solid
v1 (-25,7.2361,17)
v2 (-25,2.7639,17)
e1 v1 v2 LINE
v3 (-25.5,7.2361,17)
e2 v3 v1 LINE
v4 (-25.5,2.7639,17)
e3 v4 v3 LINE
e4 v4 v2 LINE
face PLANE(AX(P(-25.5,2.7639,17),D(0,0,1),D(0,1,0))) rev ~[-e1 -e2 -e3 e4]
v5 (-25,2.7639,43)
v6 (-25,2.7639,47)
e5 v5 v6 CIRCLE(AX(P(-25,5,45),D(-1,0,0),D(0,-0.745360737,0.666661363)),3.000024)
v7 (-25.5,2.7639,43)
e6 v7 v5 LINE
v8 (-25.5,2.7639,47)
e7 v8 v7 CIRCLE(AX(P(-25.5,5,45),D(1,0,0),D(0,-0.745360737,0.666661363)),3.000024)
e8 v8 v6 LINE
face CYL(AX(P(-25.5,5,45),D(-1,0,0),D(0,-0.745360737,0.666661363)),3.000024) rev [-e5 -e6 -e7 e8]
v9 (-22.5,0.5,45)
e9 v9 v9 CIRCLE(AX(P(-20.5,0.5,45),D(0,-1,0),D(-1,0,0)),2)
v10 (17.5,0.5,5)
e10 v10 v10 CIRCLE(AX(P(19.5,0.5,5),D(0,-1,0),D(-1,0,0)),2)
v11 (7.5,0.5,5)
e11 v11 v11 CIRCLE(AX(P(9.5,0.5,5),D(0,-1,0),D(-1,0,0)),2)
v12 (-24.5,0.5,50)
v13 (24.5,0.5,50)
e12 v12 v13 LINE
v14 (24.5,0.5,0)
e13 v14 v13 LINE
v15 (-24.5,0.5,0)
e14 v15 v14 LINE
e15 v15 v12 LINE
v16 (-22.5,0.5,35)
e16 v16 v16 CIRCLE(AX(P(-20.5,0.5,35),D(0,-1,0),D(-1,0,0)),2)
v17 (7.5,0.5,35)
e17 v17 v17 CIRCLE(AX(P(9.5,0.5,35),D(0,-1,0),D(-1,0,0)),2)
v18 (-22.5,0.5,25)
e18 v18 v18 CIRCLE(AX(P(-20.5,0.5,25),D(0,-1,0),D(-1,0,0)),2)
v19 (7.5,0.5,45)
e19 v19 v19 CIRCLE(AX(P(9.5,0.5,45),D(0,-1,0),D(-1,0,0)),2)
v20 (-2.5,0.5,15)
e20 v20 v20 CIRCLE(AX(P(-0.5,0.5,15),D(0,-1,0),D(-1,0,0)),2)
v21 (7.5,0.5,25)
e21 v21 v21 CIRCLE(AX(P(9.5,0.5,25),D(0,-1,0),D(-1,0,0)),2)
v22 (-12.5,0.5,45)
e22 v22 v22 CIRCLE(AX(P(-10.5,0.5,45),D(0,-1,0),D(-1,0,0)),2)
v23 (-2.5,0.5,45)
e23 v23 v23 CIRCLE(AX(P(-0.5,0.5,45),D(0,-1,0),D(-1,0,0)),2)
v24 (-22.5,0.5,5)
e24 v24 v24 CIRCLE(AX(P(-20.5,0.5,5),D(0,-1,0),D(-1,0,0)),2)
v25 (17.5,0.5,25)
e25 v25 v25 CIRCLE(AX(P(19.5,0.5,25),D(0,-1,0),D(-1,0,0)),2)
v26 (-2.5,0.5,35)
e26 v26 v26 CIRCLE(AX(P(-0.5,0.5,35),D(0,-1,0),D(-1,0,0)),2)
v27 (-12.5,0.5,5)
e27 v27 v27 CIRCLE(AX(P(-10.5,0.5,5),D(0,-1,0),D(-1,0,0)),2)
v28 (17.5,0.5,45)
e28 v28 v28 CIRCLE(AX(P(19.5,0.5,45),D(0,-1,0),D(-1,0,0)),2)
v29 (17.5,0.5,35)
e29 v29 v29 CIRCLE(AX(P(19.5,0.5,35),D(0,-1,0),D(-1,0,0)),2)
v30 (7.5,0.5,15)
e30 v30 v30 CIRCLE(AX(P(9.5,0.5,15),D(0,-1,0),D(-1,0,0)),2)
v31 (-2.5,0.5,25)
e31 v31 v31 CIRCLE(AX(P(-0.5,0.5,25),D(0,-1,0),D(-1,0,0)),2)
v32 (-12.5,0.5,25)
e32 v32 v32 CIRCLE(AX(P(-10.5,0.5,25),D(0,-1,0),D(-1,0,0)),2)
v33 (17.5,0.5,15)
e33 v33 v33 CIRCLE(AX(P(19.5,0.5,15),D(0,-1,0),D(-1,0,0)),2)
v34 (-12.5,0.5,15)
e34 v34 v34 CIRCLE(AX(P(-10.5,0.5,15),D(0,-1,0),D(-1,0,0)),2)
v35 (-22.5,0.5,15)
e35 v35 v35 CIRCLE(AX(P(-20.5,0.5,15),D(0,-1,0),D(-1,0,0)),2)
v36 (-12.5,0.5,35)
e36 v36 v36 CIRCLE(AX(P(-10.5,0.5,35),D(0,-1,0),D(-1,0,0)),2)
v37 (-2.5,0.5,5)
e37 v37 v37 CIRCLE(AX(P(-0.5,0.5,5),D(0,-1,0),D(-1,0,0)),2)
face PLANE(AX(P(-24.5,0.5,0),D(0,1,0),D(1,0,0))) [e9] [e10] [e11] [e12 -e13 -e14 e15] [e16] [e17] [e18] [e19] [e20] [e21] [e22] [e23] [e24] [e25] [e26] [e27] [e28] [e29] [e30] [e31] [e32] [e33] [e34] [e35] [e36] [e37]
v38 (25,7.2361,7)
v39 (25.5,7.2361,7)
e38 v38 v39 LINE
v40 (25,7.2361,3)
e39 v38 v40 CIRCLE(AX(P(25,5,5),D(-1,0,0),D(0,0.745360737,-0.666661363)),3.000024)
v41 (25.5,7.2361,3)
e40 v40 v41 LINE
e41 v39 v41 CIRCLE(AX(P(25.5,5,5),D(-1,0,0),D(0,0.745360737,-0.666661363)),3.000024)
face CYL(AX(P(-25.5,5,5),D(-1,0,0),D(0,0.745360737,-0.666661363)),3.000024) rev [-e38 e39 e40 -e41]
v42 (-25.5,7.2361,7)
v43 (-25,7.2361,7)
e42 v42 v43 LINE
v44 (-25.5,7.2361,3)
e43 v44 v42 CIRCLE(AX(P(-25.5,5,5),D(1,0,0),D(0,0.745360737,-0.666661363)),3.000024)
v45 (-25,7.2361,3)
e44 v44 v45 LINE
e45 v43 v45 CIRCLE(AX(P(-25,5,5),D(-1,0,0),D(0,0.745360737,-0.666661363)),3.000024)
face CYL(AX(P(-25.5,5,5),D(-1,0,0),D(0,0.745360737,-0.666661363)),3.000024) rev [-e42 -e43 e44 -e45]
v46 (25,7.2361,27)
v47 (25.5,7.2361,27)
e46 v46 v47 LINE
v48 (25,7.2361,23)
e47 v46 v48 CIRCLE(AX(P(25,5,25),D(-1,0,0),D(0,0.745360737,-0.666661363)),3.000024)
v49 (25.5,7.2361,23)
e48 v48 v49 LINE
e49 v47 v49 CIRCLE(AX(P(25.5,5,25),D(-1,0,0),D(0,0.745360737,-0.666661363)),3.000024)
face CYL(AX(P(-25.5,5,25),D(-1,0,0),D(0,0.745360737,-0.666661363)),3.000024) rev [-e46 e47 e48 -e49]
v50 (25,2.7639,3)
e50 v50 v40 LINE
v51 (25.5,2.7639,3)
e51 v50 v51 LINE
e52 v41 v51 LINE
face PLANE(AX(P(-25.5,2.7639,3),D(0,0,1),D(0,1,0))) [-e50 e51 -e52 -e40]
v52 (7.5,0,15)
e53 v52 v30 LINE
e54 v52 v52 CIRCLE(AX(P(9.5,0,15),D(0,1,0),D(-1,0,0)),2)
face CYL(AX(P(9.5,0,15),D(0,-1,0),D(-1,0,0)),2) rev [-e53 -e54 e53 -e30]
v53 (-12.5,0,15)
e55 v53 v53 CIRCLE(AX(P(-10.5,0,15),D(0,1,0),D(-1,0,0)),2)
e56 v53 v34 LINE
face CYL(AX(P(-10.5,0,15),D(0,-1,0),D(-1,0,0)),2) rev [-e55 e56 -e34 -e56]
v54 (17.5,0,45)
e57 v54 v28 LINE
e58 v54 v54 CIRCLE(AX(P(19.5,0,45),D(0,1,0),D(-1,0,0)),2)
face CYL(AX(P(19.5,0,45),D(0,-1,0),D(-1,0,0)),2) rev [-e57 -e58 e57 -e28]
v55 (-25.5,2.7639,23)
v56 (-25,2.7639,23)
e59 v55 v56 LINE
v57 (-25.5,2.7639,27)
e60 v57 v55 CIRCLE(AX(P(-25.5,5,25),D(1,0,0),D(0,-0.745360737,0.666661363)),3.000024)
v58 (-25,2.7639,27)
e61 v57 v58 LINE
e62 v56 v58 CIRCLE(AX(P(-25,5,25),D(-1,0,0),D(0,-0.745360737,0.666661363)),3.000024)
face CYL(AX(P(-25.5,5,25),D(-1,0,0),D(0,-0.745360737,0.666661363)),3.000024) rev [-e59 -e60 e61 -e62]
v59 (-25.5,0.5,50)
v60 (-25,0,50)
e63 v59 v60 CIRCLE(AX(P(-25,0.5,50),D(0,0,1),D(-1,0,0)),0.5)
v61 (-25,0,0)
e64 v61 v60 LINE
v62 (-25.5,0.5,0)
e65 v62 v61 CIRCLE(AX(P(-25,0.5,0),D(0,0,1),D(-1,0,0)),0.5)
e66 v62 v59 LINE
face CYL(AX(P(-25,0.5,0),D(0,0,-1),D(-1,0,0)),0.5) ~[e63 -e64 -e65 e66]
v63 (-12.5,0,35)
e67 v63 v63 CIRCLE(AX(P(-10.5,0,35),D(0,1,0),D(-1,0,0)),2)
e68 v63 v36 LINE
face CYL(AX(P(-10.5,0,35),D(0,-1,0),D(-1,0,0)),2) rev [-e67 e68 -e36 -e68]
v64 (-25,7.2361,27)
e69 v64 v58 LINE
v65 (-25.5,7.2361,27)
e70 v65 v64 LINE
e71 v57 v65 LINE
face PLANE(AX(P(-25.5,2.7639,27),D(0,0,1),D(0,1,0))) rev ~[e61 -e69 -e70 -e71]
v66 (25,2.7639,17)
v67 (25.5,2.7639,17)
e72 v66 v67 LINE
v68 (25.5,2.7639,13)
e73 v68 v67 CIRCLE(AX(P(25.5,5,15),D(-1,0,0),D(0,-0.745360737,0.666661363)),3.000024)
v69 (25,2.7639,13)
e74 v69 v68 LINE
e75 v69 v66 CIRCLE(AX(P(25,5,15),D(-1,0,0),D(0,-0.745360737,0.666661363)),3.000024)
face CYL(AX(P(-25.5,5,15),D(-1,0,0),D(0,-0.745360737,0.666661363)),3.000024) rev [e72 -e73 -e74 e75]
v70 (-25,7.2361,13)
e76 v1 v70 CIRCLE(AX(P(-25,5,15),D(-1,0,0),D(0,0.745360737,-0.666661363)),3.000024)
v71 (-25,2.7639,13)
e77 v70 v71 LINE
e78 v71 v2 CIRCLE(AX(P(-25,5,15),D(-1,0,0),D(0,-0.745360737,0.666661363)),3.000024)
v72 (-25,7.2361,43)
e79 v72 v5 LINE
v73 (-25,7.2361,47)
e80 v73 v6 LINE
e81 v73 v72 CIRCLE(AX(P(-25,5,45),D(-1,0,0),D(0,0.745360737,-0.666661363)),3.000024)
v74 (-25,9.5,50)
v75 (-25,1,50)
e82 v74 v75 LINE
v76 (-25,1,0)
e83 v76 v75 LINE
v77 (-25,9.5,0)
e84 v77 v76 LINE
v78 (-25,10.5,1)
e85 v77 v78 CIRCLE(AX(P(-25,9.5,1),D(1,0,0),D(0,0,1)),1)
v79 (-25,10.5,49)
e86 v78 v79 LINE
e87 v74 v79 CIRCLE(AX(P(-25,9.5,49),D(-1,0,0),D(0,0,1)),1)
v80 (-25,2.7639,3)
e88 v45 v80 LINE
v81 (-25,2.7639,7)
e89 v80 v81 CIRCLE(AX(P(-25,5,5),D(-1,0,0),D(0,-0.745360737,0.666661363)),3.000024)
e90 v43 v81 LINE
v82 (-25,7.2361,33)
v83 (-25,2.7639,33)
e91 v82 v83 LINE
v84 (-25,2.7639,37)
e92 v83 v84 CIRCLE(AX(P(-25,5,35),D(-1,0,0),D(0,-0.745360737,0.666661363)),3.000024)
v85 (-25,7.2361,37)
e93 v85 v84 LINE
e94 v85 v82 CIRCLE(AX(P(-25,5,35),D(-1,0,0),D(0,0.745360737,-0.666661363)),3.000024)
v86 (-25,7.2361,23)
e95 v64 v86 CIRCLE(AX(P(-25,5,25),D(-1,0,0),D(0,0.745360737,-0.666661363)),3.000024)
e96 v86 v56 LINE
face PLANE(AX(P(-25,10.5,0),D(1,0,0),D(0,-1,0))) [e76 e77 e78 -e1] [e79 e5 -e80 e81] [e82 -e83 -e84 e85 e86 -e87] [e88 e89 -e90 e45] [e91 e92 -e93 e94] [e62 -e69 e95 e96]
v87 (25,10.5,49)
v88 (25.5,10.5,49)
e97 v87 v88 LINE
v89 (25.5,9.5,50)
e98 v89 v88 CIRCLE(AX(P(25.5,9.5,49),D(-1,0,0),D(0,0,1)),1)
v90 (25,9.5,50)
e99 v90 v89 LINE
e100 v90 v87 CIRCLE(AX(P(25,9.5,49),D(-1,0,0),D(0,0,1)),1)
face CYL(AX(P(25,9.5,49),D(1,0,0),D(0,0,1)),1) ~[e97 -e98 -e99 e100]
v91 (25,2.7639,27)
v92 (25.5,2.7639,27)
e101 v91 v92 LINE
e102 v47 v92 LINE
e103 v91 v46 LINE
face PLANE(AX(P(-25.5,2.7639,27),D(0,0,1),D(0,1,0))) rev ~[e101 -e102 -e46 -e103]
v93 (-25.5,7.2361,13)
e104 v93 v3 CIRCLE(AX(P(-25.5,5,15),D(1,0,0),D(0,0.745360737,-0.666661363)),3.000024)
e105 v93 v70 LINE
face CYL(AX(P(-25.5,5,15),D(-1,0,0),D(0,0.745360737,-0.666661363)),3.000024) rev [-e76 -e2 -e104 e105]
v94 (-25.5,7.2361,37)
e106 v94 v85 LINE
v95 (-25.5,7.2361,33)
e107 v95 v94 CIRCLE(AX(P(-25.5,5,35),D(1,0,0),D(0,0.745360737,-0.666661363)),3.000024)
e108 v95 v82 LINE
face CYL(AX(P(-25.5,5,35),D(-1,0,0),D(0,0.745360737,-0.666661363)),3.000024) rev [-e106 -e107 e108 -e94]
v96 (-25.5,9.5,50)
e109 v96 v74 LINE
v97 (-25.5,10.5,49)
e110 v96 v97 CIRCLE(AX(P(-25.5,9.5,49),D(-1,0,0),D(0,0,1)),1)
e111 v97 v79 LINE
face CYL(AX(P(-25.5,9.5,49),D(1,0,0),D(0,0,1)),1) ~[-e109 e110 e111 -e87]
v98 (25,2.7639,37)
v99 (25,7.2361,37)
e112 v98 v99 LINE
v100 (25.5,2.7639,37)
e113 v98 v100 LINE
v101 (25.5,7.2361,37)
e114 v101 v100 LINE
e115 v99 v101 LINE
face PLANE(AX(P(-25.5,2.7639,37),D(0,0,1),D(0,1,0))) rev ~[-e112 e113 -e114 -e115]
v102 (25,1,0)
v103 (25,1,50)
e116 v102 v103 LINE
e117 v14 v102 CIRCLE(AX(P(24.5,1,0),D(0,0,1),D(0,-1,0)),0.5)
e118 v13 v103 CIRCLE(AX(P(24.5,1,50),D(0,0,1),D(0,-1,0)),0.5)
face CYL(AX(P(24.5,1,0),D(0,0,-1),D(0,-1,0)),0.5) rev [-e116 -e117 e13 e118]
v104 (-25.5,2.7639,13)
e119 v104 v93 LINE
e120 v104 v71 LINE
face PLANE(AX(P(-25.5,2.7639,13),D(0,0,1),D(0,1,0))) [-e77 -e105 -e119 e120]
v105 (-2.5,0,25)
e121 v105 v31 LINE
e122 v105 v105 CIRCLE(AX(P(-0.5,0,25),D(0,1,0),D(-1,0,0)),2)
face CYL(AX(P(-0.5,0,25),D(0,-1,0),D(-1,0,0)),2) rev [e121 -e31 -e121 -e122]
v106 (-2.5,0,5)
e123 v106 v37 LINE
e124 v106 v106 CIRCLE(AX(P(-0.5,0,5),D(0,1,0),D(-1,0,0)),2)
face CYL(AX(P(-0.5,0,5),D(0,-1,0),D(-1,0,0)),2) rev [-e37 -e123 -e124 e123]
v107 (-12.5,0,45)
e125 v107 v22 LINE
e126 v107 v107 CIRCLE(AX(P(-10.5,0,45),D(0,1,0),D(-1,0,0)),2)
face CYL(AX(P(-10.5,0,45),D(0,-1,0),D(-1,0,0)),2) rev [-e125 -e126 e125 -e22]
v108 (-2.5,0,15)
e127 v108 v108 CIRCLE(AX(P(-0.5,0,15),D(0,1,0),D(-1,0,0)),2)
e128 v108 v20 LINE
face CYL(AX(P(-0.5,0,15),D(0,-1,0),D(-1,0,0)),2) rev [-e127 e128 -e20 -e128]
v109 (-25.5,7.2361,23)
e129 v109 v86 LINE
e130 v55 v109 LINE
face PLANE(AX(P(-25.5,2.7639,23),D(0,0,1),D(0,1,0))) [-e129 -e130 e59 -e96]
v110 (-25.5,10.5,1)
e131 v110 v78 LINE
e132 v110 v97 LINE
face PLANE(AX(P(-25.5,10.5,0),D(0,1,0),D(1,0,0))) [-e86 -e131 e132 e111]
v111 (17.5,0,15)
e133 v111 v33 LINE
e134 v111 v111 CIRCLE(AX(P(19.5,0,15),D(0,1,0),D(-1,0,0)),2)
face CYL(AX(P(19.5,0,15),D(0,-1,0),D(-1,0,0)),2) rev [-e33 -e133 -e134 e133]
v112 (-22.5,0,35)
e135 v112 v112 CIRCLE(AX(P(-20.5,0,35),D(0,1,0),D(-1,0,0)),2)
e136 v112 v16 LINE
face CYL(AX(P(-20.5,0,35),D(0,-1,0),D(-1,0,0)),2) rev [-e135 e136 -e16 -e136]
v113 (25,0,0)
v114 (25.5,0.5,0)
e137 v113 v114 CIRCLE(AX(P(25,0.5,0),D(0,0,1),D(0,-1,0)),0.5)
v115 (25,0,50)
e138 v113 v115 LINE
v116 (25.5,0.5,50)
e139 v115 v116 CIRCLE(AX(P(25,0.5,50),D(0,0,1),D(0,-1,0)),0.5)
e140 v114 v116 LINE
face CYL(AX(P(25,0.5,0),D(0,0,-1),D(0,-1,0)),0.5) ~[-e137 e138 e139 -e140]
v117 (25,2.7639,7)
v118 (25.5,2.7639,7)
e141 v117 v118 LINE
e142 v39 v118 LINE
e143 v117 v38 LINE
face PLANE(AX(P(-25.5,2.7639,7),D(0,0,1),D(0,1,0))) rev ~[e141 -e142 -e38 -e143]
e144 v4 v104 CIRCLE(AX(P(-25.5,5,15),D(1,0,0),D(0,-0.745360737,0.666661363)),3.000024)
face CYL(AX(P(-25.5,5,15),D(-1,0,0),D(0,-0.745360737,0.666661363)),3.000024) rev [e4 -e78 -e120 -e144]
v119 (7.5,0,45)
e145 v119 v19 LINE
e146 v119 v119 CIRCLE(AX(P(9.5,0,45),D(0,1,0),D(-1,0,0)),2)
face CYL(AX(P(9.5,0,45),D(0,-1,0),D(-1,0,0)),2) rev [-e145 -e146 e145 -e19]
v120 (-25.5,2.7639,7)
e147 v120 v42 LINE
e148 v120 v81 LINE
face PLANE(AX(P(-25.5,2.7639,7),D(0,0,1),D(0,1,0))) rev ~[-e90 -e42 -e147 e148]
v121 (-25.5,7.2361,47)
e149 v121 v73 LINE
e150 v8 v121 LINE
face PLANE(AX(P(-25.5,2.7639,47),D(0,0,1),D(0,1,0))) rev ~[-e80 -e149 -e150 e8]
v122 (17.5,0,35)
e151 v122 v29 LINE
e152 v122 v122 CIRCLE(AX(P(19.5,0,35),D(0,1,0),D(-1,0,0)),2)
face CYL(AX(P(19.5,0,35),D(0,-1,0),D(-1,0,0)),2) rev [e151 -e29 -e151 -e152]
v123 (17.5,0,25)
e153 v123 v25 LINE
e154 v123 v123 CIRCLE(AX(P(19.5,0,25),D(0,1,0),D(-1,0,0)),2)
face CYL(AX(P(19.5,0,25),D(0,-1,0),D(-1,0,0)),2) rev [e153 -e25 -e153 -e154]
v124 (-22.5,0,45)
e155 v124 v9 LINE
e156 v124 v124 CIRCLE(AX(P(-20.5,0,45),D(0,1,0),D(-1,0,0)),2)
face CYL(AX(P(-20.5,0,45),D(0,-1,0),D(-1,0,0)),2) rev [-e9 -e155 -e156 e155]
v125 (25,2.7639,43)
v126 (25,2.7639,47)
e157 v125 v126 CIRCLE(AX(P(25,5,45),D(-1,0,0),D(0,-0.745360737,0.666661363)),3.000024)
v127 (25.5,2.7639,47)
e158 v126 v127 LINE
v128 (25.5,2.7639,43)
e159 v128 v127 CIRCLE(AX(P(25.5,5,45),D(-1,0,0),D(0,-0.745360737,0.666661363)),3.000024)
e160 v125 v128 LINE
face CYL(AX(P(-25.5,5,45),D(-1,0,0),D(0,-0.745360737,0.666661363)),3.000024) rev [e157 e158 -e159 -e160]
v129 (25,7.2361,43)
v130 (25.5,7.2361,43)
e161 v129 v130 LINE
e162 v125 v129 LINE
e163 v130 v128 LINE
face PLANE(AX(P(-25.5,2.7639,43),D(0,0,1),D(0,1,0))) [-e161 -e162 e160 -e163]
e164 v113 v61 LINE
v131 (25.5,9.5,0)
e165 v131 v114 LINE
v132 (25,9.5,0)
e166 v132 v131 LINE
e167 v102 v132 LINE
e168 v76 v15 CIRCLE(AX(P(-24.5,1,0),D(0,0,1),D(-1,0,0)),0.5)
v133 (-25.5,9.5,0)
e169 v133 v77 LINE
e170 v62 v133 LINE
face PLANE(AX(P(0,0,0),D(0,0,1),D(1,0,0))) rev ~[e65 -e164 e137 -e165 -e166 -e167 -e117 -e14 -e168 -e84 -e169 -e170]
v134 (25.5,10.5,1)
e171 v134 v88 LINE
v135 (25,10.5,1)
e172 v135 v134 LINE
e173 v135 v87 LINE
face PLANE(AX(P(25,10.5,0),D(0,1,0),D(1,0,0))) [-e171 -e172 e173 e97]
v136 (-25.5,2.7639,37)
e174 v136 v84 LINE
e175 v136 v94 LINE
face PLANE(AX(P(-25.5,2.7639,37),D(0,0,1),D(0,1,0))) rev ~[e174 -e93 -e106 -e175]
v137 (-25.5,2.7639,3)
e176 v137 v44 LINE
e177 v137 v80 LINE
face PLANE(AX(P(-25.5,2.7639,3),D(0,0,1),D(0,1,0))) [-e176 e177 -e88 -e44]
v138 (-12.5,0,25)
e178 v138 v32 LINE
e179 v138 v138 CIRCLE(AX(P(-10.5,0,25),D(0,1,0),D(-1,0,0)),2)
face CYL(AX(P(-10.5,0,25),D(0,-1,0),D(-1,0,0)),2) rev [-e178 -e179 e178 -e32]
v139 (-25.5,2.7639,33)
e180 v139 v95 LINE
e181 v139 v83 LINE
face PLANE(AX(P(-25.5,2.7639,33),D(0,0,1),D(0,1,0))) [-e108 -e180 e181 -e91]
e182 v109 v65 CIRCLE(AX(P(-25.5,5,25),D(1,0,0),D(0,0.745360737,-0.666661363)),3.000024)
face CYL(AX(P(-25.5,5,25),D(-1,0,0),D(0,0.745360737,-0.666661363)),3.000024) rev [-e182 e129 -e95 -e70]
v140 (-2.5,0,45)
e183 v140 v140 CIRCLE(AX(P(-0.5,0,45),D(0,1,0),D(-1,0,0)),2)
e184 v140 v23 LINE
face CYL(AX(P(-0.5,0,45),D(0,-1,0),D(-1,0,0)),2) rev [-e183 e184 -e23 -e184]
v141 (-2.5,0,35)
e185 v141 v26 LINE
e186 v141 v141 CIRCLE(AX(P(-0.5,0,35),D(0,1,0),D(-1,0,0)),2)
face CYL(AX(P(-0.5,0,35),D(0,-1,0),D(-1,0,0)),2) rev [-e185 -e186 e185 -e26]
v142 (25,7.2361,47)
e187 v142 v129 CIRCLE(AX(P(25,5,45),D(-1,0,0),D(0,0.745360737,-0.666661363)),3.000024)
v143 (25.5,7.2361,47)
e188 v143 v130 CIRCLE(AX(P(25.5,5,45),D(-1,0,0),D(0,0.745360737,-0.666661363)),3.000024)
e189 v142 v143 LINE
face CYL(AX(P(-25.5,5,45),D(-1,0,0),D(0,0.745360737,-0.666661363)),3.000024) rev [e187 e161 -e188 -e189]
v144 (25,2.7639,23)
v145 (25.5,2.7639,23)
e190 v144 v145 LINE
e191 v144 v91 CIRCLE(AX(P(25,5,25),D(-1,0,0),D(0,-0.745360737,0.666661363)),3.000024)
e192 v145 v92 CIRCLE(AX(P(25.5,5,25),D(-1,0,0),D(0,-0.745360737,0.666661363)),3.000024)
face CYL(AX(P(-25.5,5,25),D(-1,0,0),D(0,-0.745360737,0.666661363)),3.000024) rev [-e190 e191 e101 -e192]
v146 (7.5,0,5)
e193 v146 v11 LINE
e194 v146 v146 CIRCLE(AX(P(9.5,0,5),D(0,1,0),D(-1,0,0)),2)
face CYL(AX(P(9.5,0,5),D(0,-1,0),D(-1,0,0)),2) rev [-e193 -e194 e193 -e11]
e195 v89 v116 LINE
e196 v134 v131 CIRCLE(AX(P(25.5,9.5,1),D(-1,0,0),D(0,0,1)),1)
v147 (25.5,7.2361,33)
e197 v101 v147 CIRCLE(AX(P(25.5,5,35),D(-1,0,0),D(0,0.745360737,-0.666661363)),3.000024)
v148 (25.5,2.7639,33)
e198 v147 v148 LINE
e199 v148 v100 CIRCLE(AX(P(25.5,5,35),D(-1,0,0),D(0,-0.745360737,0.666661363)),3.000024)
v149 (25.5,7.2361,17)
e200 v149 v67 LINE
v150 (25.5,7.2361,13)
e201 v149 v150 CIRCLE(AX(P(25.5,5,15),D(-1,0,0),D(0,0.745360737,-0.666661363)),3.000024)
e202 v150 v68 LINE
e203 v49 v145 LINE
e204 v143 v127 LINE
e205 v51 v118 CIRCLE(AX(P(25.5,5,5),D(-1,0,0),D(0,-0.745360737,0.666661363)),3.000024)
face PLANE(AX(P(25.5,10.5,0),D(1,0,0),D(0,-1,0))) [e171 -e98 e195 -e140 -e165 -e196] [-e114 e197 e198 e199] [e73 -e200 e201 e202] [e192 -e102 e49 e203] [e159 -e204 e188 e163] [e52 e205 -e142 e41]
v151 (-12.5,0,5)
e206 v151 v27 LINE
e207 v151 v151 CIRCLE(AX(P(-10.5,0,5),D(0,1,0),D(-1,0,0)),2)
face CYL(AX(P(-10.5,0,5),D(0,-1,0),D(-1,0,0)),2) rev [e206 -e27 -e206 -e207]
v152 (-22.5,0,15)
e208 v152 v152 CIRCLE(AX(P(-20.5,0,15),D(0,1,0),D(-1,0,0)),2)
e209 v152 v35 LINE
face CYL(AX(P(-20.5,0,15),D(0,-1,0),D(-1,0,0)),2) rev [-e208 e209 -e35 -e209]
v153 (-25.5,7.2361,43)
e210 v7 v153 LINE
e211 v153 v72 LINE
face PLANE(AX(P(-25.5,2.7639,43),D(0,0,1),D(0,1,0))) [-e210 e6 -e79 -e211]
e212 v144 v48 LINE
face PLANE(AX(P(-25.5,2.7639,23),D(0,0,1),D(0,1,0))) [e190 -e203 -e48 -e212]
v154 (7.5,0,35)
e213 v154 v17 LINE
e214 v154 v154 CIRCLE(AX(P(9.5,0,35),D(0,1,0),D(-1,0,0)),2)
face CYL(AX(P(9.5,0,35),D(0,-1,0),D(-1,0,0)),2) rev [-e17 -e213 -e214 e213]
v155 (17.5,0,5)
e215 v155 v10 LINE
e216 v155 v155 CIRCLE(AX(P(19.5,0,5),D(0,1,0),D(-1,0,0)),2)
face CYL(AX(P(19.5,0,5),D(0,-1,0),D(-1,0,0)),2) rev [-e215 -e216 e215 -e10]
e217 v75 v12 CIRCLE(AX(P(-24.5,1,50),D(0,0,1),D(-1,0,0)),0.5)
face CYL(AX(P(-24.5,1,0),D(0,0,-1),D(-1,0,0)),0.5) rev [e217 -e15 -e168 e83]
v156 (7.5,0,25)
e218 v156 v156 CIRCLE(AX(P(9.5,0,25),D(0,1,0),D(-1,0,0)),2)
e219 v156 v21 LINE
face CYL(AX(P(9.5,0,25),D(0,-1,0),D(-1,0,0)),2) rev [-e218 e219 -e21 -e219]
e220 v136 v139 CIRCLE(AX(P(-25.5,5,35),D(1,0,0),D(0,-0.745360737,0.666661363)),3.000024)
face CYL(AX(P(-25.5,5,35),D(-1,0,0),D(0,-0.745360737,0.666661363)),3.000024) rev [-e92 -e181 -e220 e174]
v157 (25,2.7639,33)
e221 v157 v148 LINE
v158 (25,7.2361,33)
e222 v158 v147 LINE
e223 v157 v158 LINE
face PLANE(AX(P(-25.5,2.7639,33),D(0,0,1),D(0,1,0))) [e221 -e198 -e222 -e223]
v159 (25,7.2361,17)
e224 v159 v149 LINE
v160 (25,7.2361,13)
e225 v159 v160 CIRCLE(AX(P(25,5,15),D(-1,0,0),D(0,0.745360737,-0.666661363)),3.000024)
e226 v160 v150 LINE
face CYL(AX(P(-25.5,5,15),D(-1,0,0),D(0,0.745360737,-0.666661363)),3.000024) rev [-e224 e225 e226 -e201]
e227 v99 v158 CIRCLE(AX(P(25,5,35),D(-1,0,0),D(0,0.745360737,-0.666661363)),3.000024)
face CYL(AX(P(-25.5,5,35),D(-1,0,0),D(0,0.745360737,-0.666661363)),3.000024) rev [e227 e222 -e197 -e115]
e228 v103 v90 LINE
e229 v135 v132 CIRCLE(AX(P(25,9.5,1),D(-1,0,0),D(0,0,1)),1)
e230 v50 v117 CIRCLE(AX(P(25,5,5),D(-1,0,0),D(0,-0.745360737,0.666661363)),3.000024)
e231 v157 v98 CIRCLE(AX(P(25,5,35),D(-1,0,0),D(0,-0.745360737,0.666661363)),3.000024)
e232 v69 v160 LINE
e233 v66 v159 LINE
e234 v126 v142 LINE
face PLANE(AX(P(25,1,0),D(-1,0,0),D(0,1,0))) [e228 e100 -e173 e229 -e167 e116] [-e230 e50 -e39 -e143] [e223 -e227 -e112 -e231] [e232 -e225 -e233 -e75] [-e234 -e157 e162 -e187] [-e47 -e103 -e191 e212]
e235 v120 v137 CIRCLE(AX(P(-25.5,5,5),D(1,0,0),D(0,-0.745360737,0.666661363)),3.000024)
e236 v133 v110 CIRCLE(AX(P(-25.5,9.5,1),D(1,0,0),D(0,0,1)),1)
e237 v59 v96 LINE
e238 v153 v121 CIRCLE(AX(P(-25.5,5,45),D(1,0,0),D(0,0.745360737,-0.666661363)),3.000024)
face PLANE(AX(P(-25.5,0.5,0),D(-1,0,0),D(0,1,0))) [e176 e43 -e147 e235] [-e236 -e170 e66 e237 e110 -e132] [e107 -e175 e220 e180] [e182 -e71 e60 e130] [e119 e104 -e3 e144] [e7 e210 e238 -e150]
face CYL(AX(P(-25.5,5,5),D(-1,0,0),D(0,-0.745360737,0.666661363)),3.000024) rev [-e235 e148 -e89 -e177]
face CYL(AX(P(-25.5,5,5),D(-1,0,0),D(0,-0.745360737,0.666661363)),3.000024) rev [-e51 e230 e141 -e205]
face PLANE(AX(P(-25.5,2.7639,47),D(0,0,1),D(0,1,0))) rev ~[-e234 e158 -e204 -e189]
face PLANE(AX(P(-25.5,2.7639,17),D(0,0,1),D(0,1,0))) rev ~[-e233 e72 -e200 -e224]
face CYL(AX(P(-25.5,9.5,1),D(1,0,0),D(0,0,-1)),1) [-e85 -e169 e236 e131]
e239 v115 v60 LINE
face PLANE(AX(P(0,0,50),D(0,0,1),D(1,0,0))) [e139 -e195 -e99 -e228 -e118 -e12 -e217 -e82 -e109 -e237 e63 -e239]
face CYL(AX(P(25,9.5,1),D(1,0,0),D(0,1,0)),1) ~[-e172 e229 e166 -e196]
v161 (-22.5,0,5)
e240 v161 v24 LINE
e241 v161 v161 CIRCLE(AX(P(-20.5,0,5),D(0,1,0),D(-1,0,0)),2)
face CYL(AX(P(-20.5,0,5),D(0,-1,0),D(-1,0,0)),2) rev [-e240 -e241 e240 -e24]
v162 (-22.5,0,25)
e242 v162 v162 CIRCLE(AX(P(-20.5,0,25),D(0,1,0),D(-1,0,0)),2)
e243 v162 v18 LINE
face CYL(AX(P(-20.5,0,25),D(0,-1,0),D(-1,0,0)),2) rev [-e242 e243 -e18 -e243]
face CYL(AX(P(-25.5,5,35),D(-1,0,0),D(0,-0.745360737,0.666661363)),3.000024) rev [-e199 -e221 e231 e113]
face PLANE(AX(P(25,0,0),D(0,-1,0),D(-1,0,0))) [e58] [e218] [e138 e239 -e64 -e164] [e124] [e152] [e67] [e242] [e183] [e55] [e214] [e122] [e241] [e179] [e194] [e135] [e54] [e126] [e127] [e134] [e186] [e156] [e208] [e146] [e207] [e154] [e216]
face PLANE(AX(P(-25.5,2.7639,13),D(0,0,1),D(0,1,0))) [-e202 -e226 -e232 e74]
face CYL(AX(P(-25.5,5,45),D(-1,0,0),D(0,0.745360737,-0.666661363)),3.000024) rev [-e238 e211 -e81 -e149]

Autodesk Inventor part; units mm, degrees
ref_plane "XZ Plane" through (0, 0, 0) normal (0, 1, 0) x (-1, 0, 0)
ref_plane "XY Plane" through (0, 0, 0) normal (0, 0, 1) x (1, 0, 0)
sketch "Náčrt1" plane through (0, 0, 0) normal (0, 0, 1) x (1, 0, 0)
  line L0 (-24.5, 0.5) -> (24.5, 0.5)
  line L1 (25, 1) -> (25, 10.5)
  line L2 (25, 10.5) -> (25.5, 10.5)
  line L3 (25.5, 10.5) -> (25.5, 0.5)
  line L4 (25, 0) -> (-25, 0)
  line L5 (-25.5, 0.5) -> (-25.5, 10.5)
  line L6 (-25.5, 10.5) -> (-25, 10.5)
  line L7 (-25, 10.5) -> (-25, 1)
  arc A0 (25, 0) -> (25.5, 0.5) centre (25, 0.5) ccw
  arc A1 (-25.5, 0.5) -> (-25, 0) centre (-25, 0.5) ccw
  arc A2 (24.5, 0.5) -> (25, 1) centre (24.5, 1) ccw
  arc A3 (-25, 1) -> (-24.5, 0.5) centre (-24.5, 1) ccw
  point P0 (0, 0)
  point P1 (-25, 0.5)
  point P2 (25, 0.5)
  point P3 (25.5, 0)
  point P4 (-25.5, 0)
  point P5 (25.5, 5.5)
  point P6 (25, 5.75)
  point P7 (-25.5, 5.5)
  point P8 (-25, 5.75)
  dimension "d0" = 51
  dimension "d1" = 25.5
  dimension "d2" = 0.5
  dimension "d3" = 0.5
  dimension "d4" = 0.5
  dimension "d7" = 10
  dimension "d34" = 0.5
  dimension "d35" = 0.5
extrude "Vysunutí1" add sketch "Náčrt1" along normal blind 50
sketch "Náčrt2" plane through (0, 0, 0) normal (0, 1, 0) x (-1, 0, 0)
  circle A0 centre (20.5, 5) radius 2
  line L0 (25.5, 0) -> (25.5, 50) projected
  line L1 (25, 0) -> (-25, 0) projected
  point P0 (0, 0)
  point P1 (-25.5, 0)
  dimension "d8" = 4
  dimension "d9" = 5
  dimension "d10" = 5
extrude "Vysunutí2" cut sketch "Náčrt2" along normal through all
pattern_linear "Obdélníkové pole1" count 5 spacing 10 along (1, 0, 0) count 5 spacing 10 along (0, 0, 1) of "Vysunutí2"
ref_plane "Pracovní rovina1" through (-25.5, 0, 0) normal (1, 0, 0) x (0, 1, 0)
sketch "Náčrt4" plane through (-25.5, 0, 0) normal (1, 0, 0) x (0, 1, 0)
  line L0 (10.5, 0) -> (0, 0) projected
  line L1 (0, 0) -> (0, 50) projected
  line L2 (2, 7) -> (8, 7)
  line L3 (2, 3) -> (8, 3)
  arc A0 (7.2361, 3) -> (7.2361, 7) centre (5, 5) ccw
  arc A1 (2.7639, 7) -> (2.7639, 3) centre (5, 5) ccw
  dimension "d21" = 5
  dimension "d22" = 5
  dimension "d23" = 6
  dimension "d24" = 4
  dimension "d25" = 2
  dimension "d26" = 6
  dimension "d27" = 3
  dimension "d28" = 3
extrude "Vysunutí3" cut sketch "Náčrt4" along normal through all
pattern_linear "Obdélníkové pole2" count 5 spacing 10 along (0, 0, 1) of "Vysunutí3"
fillet "Zaoblení1" radius 1 2 edges at (25.25, 10.5, 50) (-25.25, 10.5, 50)
fillet "Zaoblení2" radius 1 2 edges at (25.25, 10.5, 0) (-25.25, 10.5, 0)
equation "\"d1\" = 0.5 * d0"
properties part number "1035"
